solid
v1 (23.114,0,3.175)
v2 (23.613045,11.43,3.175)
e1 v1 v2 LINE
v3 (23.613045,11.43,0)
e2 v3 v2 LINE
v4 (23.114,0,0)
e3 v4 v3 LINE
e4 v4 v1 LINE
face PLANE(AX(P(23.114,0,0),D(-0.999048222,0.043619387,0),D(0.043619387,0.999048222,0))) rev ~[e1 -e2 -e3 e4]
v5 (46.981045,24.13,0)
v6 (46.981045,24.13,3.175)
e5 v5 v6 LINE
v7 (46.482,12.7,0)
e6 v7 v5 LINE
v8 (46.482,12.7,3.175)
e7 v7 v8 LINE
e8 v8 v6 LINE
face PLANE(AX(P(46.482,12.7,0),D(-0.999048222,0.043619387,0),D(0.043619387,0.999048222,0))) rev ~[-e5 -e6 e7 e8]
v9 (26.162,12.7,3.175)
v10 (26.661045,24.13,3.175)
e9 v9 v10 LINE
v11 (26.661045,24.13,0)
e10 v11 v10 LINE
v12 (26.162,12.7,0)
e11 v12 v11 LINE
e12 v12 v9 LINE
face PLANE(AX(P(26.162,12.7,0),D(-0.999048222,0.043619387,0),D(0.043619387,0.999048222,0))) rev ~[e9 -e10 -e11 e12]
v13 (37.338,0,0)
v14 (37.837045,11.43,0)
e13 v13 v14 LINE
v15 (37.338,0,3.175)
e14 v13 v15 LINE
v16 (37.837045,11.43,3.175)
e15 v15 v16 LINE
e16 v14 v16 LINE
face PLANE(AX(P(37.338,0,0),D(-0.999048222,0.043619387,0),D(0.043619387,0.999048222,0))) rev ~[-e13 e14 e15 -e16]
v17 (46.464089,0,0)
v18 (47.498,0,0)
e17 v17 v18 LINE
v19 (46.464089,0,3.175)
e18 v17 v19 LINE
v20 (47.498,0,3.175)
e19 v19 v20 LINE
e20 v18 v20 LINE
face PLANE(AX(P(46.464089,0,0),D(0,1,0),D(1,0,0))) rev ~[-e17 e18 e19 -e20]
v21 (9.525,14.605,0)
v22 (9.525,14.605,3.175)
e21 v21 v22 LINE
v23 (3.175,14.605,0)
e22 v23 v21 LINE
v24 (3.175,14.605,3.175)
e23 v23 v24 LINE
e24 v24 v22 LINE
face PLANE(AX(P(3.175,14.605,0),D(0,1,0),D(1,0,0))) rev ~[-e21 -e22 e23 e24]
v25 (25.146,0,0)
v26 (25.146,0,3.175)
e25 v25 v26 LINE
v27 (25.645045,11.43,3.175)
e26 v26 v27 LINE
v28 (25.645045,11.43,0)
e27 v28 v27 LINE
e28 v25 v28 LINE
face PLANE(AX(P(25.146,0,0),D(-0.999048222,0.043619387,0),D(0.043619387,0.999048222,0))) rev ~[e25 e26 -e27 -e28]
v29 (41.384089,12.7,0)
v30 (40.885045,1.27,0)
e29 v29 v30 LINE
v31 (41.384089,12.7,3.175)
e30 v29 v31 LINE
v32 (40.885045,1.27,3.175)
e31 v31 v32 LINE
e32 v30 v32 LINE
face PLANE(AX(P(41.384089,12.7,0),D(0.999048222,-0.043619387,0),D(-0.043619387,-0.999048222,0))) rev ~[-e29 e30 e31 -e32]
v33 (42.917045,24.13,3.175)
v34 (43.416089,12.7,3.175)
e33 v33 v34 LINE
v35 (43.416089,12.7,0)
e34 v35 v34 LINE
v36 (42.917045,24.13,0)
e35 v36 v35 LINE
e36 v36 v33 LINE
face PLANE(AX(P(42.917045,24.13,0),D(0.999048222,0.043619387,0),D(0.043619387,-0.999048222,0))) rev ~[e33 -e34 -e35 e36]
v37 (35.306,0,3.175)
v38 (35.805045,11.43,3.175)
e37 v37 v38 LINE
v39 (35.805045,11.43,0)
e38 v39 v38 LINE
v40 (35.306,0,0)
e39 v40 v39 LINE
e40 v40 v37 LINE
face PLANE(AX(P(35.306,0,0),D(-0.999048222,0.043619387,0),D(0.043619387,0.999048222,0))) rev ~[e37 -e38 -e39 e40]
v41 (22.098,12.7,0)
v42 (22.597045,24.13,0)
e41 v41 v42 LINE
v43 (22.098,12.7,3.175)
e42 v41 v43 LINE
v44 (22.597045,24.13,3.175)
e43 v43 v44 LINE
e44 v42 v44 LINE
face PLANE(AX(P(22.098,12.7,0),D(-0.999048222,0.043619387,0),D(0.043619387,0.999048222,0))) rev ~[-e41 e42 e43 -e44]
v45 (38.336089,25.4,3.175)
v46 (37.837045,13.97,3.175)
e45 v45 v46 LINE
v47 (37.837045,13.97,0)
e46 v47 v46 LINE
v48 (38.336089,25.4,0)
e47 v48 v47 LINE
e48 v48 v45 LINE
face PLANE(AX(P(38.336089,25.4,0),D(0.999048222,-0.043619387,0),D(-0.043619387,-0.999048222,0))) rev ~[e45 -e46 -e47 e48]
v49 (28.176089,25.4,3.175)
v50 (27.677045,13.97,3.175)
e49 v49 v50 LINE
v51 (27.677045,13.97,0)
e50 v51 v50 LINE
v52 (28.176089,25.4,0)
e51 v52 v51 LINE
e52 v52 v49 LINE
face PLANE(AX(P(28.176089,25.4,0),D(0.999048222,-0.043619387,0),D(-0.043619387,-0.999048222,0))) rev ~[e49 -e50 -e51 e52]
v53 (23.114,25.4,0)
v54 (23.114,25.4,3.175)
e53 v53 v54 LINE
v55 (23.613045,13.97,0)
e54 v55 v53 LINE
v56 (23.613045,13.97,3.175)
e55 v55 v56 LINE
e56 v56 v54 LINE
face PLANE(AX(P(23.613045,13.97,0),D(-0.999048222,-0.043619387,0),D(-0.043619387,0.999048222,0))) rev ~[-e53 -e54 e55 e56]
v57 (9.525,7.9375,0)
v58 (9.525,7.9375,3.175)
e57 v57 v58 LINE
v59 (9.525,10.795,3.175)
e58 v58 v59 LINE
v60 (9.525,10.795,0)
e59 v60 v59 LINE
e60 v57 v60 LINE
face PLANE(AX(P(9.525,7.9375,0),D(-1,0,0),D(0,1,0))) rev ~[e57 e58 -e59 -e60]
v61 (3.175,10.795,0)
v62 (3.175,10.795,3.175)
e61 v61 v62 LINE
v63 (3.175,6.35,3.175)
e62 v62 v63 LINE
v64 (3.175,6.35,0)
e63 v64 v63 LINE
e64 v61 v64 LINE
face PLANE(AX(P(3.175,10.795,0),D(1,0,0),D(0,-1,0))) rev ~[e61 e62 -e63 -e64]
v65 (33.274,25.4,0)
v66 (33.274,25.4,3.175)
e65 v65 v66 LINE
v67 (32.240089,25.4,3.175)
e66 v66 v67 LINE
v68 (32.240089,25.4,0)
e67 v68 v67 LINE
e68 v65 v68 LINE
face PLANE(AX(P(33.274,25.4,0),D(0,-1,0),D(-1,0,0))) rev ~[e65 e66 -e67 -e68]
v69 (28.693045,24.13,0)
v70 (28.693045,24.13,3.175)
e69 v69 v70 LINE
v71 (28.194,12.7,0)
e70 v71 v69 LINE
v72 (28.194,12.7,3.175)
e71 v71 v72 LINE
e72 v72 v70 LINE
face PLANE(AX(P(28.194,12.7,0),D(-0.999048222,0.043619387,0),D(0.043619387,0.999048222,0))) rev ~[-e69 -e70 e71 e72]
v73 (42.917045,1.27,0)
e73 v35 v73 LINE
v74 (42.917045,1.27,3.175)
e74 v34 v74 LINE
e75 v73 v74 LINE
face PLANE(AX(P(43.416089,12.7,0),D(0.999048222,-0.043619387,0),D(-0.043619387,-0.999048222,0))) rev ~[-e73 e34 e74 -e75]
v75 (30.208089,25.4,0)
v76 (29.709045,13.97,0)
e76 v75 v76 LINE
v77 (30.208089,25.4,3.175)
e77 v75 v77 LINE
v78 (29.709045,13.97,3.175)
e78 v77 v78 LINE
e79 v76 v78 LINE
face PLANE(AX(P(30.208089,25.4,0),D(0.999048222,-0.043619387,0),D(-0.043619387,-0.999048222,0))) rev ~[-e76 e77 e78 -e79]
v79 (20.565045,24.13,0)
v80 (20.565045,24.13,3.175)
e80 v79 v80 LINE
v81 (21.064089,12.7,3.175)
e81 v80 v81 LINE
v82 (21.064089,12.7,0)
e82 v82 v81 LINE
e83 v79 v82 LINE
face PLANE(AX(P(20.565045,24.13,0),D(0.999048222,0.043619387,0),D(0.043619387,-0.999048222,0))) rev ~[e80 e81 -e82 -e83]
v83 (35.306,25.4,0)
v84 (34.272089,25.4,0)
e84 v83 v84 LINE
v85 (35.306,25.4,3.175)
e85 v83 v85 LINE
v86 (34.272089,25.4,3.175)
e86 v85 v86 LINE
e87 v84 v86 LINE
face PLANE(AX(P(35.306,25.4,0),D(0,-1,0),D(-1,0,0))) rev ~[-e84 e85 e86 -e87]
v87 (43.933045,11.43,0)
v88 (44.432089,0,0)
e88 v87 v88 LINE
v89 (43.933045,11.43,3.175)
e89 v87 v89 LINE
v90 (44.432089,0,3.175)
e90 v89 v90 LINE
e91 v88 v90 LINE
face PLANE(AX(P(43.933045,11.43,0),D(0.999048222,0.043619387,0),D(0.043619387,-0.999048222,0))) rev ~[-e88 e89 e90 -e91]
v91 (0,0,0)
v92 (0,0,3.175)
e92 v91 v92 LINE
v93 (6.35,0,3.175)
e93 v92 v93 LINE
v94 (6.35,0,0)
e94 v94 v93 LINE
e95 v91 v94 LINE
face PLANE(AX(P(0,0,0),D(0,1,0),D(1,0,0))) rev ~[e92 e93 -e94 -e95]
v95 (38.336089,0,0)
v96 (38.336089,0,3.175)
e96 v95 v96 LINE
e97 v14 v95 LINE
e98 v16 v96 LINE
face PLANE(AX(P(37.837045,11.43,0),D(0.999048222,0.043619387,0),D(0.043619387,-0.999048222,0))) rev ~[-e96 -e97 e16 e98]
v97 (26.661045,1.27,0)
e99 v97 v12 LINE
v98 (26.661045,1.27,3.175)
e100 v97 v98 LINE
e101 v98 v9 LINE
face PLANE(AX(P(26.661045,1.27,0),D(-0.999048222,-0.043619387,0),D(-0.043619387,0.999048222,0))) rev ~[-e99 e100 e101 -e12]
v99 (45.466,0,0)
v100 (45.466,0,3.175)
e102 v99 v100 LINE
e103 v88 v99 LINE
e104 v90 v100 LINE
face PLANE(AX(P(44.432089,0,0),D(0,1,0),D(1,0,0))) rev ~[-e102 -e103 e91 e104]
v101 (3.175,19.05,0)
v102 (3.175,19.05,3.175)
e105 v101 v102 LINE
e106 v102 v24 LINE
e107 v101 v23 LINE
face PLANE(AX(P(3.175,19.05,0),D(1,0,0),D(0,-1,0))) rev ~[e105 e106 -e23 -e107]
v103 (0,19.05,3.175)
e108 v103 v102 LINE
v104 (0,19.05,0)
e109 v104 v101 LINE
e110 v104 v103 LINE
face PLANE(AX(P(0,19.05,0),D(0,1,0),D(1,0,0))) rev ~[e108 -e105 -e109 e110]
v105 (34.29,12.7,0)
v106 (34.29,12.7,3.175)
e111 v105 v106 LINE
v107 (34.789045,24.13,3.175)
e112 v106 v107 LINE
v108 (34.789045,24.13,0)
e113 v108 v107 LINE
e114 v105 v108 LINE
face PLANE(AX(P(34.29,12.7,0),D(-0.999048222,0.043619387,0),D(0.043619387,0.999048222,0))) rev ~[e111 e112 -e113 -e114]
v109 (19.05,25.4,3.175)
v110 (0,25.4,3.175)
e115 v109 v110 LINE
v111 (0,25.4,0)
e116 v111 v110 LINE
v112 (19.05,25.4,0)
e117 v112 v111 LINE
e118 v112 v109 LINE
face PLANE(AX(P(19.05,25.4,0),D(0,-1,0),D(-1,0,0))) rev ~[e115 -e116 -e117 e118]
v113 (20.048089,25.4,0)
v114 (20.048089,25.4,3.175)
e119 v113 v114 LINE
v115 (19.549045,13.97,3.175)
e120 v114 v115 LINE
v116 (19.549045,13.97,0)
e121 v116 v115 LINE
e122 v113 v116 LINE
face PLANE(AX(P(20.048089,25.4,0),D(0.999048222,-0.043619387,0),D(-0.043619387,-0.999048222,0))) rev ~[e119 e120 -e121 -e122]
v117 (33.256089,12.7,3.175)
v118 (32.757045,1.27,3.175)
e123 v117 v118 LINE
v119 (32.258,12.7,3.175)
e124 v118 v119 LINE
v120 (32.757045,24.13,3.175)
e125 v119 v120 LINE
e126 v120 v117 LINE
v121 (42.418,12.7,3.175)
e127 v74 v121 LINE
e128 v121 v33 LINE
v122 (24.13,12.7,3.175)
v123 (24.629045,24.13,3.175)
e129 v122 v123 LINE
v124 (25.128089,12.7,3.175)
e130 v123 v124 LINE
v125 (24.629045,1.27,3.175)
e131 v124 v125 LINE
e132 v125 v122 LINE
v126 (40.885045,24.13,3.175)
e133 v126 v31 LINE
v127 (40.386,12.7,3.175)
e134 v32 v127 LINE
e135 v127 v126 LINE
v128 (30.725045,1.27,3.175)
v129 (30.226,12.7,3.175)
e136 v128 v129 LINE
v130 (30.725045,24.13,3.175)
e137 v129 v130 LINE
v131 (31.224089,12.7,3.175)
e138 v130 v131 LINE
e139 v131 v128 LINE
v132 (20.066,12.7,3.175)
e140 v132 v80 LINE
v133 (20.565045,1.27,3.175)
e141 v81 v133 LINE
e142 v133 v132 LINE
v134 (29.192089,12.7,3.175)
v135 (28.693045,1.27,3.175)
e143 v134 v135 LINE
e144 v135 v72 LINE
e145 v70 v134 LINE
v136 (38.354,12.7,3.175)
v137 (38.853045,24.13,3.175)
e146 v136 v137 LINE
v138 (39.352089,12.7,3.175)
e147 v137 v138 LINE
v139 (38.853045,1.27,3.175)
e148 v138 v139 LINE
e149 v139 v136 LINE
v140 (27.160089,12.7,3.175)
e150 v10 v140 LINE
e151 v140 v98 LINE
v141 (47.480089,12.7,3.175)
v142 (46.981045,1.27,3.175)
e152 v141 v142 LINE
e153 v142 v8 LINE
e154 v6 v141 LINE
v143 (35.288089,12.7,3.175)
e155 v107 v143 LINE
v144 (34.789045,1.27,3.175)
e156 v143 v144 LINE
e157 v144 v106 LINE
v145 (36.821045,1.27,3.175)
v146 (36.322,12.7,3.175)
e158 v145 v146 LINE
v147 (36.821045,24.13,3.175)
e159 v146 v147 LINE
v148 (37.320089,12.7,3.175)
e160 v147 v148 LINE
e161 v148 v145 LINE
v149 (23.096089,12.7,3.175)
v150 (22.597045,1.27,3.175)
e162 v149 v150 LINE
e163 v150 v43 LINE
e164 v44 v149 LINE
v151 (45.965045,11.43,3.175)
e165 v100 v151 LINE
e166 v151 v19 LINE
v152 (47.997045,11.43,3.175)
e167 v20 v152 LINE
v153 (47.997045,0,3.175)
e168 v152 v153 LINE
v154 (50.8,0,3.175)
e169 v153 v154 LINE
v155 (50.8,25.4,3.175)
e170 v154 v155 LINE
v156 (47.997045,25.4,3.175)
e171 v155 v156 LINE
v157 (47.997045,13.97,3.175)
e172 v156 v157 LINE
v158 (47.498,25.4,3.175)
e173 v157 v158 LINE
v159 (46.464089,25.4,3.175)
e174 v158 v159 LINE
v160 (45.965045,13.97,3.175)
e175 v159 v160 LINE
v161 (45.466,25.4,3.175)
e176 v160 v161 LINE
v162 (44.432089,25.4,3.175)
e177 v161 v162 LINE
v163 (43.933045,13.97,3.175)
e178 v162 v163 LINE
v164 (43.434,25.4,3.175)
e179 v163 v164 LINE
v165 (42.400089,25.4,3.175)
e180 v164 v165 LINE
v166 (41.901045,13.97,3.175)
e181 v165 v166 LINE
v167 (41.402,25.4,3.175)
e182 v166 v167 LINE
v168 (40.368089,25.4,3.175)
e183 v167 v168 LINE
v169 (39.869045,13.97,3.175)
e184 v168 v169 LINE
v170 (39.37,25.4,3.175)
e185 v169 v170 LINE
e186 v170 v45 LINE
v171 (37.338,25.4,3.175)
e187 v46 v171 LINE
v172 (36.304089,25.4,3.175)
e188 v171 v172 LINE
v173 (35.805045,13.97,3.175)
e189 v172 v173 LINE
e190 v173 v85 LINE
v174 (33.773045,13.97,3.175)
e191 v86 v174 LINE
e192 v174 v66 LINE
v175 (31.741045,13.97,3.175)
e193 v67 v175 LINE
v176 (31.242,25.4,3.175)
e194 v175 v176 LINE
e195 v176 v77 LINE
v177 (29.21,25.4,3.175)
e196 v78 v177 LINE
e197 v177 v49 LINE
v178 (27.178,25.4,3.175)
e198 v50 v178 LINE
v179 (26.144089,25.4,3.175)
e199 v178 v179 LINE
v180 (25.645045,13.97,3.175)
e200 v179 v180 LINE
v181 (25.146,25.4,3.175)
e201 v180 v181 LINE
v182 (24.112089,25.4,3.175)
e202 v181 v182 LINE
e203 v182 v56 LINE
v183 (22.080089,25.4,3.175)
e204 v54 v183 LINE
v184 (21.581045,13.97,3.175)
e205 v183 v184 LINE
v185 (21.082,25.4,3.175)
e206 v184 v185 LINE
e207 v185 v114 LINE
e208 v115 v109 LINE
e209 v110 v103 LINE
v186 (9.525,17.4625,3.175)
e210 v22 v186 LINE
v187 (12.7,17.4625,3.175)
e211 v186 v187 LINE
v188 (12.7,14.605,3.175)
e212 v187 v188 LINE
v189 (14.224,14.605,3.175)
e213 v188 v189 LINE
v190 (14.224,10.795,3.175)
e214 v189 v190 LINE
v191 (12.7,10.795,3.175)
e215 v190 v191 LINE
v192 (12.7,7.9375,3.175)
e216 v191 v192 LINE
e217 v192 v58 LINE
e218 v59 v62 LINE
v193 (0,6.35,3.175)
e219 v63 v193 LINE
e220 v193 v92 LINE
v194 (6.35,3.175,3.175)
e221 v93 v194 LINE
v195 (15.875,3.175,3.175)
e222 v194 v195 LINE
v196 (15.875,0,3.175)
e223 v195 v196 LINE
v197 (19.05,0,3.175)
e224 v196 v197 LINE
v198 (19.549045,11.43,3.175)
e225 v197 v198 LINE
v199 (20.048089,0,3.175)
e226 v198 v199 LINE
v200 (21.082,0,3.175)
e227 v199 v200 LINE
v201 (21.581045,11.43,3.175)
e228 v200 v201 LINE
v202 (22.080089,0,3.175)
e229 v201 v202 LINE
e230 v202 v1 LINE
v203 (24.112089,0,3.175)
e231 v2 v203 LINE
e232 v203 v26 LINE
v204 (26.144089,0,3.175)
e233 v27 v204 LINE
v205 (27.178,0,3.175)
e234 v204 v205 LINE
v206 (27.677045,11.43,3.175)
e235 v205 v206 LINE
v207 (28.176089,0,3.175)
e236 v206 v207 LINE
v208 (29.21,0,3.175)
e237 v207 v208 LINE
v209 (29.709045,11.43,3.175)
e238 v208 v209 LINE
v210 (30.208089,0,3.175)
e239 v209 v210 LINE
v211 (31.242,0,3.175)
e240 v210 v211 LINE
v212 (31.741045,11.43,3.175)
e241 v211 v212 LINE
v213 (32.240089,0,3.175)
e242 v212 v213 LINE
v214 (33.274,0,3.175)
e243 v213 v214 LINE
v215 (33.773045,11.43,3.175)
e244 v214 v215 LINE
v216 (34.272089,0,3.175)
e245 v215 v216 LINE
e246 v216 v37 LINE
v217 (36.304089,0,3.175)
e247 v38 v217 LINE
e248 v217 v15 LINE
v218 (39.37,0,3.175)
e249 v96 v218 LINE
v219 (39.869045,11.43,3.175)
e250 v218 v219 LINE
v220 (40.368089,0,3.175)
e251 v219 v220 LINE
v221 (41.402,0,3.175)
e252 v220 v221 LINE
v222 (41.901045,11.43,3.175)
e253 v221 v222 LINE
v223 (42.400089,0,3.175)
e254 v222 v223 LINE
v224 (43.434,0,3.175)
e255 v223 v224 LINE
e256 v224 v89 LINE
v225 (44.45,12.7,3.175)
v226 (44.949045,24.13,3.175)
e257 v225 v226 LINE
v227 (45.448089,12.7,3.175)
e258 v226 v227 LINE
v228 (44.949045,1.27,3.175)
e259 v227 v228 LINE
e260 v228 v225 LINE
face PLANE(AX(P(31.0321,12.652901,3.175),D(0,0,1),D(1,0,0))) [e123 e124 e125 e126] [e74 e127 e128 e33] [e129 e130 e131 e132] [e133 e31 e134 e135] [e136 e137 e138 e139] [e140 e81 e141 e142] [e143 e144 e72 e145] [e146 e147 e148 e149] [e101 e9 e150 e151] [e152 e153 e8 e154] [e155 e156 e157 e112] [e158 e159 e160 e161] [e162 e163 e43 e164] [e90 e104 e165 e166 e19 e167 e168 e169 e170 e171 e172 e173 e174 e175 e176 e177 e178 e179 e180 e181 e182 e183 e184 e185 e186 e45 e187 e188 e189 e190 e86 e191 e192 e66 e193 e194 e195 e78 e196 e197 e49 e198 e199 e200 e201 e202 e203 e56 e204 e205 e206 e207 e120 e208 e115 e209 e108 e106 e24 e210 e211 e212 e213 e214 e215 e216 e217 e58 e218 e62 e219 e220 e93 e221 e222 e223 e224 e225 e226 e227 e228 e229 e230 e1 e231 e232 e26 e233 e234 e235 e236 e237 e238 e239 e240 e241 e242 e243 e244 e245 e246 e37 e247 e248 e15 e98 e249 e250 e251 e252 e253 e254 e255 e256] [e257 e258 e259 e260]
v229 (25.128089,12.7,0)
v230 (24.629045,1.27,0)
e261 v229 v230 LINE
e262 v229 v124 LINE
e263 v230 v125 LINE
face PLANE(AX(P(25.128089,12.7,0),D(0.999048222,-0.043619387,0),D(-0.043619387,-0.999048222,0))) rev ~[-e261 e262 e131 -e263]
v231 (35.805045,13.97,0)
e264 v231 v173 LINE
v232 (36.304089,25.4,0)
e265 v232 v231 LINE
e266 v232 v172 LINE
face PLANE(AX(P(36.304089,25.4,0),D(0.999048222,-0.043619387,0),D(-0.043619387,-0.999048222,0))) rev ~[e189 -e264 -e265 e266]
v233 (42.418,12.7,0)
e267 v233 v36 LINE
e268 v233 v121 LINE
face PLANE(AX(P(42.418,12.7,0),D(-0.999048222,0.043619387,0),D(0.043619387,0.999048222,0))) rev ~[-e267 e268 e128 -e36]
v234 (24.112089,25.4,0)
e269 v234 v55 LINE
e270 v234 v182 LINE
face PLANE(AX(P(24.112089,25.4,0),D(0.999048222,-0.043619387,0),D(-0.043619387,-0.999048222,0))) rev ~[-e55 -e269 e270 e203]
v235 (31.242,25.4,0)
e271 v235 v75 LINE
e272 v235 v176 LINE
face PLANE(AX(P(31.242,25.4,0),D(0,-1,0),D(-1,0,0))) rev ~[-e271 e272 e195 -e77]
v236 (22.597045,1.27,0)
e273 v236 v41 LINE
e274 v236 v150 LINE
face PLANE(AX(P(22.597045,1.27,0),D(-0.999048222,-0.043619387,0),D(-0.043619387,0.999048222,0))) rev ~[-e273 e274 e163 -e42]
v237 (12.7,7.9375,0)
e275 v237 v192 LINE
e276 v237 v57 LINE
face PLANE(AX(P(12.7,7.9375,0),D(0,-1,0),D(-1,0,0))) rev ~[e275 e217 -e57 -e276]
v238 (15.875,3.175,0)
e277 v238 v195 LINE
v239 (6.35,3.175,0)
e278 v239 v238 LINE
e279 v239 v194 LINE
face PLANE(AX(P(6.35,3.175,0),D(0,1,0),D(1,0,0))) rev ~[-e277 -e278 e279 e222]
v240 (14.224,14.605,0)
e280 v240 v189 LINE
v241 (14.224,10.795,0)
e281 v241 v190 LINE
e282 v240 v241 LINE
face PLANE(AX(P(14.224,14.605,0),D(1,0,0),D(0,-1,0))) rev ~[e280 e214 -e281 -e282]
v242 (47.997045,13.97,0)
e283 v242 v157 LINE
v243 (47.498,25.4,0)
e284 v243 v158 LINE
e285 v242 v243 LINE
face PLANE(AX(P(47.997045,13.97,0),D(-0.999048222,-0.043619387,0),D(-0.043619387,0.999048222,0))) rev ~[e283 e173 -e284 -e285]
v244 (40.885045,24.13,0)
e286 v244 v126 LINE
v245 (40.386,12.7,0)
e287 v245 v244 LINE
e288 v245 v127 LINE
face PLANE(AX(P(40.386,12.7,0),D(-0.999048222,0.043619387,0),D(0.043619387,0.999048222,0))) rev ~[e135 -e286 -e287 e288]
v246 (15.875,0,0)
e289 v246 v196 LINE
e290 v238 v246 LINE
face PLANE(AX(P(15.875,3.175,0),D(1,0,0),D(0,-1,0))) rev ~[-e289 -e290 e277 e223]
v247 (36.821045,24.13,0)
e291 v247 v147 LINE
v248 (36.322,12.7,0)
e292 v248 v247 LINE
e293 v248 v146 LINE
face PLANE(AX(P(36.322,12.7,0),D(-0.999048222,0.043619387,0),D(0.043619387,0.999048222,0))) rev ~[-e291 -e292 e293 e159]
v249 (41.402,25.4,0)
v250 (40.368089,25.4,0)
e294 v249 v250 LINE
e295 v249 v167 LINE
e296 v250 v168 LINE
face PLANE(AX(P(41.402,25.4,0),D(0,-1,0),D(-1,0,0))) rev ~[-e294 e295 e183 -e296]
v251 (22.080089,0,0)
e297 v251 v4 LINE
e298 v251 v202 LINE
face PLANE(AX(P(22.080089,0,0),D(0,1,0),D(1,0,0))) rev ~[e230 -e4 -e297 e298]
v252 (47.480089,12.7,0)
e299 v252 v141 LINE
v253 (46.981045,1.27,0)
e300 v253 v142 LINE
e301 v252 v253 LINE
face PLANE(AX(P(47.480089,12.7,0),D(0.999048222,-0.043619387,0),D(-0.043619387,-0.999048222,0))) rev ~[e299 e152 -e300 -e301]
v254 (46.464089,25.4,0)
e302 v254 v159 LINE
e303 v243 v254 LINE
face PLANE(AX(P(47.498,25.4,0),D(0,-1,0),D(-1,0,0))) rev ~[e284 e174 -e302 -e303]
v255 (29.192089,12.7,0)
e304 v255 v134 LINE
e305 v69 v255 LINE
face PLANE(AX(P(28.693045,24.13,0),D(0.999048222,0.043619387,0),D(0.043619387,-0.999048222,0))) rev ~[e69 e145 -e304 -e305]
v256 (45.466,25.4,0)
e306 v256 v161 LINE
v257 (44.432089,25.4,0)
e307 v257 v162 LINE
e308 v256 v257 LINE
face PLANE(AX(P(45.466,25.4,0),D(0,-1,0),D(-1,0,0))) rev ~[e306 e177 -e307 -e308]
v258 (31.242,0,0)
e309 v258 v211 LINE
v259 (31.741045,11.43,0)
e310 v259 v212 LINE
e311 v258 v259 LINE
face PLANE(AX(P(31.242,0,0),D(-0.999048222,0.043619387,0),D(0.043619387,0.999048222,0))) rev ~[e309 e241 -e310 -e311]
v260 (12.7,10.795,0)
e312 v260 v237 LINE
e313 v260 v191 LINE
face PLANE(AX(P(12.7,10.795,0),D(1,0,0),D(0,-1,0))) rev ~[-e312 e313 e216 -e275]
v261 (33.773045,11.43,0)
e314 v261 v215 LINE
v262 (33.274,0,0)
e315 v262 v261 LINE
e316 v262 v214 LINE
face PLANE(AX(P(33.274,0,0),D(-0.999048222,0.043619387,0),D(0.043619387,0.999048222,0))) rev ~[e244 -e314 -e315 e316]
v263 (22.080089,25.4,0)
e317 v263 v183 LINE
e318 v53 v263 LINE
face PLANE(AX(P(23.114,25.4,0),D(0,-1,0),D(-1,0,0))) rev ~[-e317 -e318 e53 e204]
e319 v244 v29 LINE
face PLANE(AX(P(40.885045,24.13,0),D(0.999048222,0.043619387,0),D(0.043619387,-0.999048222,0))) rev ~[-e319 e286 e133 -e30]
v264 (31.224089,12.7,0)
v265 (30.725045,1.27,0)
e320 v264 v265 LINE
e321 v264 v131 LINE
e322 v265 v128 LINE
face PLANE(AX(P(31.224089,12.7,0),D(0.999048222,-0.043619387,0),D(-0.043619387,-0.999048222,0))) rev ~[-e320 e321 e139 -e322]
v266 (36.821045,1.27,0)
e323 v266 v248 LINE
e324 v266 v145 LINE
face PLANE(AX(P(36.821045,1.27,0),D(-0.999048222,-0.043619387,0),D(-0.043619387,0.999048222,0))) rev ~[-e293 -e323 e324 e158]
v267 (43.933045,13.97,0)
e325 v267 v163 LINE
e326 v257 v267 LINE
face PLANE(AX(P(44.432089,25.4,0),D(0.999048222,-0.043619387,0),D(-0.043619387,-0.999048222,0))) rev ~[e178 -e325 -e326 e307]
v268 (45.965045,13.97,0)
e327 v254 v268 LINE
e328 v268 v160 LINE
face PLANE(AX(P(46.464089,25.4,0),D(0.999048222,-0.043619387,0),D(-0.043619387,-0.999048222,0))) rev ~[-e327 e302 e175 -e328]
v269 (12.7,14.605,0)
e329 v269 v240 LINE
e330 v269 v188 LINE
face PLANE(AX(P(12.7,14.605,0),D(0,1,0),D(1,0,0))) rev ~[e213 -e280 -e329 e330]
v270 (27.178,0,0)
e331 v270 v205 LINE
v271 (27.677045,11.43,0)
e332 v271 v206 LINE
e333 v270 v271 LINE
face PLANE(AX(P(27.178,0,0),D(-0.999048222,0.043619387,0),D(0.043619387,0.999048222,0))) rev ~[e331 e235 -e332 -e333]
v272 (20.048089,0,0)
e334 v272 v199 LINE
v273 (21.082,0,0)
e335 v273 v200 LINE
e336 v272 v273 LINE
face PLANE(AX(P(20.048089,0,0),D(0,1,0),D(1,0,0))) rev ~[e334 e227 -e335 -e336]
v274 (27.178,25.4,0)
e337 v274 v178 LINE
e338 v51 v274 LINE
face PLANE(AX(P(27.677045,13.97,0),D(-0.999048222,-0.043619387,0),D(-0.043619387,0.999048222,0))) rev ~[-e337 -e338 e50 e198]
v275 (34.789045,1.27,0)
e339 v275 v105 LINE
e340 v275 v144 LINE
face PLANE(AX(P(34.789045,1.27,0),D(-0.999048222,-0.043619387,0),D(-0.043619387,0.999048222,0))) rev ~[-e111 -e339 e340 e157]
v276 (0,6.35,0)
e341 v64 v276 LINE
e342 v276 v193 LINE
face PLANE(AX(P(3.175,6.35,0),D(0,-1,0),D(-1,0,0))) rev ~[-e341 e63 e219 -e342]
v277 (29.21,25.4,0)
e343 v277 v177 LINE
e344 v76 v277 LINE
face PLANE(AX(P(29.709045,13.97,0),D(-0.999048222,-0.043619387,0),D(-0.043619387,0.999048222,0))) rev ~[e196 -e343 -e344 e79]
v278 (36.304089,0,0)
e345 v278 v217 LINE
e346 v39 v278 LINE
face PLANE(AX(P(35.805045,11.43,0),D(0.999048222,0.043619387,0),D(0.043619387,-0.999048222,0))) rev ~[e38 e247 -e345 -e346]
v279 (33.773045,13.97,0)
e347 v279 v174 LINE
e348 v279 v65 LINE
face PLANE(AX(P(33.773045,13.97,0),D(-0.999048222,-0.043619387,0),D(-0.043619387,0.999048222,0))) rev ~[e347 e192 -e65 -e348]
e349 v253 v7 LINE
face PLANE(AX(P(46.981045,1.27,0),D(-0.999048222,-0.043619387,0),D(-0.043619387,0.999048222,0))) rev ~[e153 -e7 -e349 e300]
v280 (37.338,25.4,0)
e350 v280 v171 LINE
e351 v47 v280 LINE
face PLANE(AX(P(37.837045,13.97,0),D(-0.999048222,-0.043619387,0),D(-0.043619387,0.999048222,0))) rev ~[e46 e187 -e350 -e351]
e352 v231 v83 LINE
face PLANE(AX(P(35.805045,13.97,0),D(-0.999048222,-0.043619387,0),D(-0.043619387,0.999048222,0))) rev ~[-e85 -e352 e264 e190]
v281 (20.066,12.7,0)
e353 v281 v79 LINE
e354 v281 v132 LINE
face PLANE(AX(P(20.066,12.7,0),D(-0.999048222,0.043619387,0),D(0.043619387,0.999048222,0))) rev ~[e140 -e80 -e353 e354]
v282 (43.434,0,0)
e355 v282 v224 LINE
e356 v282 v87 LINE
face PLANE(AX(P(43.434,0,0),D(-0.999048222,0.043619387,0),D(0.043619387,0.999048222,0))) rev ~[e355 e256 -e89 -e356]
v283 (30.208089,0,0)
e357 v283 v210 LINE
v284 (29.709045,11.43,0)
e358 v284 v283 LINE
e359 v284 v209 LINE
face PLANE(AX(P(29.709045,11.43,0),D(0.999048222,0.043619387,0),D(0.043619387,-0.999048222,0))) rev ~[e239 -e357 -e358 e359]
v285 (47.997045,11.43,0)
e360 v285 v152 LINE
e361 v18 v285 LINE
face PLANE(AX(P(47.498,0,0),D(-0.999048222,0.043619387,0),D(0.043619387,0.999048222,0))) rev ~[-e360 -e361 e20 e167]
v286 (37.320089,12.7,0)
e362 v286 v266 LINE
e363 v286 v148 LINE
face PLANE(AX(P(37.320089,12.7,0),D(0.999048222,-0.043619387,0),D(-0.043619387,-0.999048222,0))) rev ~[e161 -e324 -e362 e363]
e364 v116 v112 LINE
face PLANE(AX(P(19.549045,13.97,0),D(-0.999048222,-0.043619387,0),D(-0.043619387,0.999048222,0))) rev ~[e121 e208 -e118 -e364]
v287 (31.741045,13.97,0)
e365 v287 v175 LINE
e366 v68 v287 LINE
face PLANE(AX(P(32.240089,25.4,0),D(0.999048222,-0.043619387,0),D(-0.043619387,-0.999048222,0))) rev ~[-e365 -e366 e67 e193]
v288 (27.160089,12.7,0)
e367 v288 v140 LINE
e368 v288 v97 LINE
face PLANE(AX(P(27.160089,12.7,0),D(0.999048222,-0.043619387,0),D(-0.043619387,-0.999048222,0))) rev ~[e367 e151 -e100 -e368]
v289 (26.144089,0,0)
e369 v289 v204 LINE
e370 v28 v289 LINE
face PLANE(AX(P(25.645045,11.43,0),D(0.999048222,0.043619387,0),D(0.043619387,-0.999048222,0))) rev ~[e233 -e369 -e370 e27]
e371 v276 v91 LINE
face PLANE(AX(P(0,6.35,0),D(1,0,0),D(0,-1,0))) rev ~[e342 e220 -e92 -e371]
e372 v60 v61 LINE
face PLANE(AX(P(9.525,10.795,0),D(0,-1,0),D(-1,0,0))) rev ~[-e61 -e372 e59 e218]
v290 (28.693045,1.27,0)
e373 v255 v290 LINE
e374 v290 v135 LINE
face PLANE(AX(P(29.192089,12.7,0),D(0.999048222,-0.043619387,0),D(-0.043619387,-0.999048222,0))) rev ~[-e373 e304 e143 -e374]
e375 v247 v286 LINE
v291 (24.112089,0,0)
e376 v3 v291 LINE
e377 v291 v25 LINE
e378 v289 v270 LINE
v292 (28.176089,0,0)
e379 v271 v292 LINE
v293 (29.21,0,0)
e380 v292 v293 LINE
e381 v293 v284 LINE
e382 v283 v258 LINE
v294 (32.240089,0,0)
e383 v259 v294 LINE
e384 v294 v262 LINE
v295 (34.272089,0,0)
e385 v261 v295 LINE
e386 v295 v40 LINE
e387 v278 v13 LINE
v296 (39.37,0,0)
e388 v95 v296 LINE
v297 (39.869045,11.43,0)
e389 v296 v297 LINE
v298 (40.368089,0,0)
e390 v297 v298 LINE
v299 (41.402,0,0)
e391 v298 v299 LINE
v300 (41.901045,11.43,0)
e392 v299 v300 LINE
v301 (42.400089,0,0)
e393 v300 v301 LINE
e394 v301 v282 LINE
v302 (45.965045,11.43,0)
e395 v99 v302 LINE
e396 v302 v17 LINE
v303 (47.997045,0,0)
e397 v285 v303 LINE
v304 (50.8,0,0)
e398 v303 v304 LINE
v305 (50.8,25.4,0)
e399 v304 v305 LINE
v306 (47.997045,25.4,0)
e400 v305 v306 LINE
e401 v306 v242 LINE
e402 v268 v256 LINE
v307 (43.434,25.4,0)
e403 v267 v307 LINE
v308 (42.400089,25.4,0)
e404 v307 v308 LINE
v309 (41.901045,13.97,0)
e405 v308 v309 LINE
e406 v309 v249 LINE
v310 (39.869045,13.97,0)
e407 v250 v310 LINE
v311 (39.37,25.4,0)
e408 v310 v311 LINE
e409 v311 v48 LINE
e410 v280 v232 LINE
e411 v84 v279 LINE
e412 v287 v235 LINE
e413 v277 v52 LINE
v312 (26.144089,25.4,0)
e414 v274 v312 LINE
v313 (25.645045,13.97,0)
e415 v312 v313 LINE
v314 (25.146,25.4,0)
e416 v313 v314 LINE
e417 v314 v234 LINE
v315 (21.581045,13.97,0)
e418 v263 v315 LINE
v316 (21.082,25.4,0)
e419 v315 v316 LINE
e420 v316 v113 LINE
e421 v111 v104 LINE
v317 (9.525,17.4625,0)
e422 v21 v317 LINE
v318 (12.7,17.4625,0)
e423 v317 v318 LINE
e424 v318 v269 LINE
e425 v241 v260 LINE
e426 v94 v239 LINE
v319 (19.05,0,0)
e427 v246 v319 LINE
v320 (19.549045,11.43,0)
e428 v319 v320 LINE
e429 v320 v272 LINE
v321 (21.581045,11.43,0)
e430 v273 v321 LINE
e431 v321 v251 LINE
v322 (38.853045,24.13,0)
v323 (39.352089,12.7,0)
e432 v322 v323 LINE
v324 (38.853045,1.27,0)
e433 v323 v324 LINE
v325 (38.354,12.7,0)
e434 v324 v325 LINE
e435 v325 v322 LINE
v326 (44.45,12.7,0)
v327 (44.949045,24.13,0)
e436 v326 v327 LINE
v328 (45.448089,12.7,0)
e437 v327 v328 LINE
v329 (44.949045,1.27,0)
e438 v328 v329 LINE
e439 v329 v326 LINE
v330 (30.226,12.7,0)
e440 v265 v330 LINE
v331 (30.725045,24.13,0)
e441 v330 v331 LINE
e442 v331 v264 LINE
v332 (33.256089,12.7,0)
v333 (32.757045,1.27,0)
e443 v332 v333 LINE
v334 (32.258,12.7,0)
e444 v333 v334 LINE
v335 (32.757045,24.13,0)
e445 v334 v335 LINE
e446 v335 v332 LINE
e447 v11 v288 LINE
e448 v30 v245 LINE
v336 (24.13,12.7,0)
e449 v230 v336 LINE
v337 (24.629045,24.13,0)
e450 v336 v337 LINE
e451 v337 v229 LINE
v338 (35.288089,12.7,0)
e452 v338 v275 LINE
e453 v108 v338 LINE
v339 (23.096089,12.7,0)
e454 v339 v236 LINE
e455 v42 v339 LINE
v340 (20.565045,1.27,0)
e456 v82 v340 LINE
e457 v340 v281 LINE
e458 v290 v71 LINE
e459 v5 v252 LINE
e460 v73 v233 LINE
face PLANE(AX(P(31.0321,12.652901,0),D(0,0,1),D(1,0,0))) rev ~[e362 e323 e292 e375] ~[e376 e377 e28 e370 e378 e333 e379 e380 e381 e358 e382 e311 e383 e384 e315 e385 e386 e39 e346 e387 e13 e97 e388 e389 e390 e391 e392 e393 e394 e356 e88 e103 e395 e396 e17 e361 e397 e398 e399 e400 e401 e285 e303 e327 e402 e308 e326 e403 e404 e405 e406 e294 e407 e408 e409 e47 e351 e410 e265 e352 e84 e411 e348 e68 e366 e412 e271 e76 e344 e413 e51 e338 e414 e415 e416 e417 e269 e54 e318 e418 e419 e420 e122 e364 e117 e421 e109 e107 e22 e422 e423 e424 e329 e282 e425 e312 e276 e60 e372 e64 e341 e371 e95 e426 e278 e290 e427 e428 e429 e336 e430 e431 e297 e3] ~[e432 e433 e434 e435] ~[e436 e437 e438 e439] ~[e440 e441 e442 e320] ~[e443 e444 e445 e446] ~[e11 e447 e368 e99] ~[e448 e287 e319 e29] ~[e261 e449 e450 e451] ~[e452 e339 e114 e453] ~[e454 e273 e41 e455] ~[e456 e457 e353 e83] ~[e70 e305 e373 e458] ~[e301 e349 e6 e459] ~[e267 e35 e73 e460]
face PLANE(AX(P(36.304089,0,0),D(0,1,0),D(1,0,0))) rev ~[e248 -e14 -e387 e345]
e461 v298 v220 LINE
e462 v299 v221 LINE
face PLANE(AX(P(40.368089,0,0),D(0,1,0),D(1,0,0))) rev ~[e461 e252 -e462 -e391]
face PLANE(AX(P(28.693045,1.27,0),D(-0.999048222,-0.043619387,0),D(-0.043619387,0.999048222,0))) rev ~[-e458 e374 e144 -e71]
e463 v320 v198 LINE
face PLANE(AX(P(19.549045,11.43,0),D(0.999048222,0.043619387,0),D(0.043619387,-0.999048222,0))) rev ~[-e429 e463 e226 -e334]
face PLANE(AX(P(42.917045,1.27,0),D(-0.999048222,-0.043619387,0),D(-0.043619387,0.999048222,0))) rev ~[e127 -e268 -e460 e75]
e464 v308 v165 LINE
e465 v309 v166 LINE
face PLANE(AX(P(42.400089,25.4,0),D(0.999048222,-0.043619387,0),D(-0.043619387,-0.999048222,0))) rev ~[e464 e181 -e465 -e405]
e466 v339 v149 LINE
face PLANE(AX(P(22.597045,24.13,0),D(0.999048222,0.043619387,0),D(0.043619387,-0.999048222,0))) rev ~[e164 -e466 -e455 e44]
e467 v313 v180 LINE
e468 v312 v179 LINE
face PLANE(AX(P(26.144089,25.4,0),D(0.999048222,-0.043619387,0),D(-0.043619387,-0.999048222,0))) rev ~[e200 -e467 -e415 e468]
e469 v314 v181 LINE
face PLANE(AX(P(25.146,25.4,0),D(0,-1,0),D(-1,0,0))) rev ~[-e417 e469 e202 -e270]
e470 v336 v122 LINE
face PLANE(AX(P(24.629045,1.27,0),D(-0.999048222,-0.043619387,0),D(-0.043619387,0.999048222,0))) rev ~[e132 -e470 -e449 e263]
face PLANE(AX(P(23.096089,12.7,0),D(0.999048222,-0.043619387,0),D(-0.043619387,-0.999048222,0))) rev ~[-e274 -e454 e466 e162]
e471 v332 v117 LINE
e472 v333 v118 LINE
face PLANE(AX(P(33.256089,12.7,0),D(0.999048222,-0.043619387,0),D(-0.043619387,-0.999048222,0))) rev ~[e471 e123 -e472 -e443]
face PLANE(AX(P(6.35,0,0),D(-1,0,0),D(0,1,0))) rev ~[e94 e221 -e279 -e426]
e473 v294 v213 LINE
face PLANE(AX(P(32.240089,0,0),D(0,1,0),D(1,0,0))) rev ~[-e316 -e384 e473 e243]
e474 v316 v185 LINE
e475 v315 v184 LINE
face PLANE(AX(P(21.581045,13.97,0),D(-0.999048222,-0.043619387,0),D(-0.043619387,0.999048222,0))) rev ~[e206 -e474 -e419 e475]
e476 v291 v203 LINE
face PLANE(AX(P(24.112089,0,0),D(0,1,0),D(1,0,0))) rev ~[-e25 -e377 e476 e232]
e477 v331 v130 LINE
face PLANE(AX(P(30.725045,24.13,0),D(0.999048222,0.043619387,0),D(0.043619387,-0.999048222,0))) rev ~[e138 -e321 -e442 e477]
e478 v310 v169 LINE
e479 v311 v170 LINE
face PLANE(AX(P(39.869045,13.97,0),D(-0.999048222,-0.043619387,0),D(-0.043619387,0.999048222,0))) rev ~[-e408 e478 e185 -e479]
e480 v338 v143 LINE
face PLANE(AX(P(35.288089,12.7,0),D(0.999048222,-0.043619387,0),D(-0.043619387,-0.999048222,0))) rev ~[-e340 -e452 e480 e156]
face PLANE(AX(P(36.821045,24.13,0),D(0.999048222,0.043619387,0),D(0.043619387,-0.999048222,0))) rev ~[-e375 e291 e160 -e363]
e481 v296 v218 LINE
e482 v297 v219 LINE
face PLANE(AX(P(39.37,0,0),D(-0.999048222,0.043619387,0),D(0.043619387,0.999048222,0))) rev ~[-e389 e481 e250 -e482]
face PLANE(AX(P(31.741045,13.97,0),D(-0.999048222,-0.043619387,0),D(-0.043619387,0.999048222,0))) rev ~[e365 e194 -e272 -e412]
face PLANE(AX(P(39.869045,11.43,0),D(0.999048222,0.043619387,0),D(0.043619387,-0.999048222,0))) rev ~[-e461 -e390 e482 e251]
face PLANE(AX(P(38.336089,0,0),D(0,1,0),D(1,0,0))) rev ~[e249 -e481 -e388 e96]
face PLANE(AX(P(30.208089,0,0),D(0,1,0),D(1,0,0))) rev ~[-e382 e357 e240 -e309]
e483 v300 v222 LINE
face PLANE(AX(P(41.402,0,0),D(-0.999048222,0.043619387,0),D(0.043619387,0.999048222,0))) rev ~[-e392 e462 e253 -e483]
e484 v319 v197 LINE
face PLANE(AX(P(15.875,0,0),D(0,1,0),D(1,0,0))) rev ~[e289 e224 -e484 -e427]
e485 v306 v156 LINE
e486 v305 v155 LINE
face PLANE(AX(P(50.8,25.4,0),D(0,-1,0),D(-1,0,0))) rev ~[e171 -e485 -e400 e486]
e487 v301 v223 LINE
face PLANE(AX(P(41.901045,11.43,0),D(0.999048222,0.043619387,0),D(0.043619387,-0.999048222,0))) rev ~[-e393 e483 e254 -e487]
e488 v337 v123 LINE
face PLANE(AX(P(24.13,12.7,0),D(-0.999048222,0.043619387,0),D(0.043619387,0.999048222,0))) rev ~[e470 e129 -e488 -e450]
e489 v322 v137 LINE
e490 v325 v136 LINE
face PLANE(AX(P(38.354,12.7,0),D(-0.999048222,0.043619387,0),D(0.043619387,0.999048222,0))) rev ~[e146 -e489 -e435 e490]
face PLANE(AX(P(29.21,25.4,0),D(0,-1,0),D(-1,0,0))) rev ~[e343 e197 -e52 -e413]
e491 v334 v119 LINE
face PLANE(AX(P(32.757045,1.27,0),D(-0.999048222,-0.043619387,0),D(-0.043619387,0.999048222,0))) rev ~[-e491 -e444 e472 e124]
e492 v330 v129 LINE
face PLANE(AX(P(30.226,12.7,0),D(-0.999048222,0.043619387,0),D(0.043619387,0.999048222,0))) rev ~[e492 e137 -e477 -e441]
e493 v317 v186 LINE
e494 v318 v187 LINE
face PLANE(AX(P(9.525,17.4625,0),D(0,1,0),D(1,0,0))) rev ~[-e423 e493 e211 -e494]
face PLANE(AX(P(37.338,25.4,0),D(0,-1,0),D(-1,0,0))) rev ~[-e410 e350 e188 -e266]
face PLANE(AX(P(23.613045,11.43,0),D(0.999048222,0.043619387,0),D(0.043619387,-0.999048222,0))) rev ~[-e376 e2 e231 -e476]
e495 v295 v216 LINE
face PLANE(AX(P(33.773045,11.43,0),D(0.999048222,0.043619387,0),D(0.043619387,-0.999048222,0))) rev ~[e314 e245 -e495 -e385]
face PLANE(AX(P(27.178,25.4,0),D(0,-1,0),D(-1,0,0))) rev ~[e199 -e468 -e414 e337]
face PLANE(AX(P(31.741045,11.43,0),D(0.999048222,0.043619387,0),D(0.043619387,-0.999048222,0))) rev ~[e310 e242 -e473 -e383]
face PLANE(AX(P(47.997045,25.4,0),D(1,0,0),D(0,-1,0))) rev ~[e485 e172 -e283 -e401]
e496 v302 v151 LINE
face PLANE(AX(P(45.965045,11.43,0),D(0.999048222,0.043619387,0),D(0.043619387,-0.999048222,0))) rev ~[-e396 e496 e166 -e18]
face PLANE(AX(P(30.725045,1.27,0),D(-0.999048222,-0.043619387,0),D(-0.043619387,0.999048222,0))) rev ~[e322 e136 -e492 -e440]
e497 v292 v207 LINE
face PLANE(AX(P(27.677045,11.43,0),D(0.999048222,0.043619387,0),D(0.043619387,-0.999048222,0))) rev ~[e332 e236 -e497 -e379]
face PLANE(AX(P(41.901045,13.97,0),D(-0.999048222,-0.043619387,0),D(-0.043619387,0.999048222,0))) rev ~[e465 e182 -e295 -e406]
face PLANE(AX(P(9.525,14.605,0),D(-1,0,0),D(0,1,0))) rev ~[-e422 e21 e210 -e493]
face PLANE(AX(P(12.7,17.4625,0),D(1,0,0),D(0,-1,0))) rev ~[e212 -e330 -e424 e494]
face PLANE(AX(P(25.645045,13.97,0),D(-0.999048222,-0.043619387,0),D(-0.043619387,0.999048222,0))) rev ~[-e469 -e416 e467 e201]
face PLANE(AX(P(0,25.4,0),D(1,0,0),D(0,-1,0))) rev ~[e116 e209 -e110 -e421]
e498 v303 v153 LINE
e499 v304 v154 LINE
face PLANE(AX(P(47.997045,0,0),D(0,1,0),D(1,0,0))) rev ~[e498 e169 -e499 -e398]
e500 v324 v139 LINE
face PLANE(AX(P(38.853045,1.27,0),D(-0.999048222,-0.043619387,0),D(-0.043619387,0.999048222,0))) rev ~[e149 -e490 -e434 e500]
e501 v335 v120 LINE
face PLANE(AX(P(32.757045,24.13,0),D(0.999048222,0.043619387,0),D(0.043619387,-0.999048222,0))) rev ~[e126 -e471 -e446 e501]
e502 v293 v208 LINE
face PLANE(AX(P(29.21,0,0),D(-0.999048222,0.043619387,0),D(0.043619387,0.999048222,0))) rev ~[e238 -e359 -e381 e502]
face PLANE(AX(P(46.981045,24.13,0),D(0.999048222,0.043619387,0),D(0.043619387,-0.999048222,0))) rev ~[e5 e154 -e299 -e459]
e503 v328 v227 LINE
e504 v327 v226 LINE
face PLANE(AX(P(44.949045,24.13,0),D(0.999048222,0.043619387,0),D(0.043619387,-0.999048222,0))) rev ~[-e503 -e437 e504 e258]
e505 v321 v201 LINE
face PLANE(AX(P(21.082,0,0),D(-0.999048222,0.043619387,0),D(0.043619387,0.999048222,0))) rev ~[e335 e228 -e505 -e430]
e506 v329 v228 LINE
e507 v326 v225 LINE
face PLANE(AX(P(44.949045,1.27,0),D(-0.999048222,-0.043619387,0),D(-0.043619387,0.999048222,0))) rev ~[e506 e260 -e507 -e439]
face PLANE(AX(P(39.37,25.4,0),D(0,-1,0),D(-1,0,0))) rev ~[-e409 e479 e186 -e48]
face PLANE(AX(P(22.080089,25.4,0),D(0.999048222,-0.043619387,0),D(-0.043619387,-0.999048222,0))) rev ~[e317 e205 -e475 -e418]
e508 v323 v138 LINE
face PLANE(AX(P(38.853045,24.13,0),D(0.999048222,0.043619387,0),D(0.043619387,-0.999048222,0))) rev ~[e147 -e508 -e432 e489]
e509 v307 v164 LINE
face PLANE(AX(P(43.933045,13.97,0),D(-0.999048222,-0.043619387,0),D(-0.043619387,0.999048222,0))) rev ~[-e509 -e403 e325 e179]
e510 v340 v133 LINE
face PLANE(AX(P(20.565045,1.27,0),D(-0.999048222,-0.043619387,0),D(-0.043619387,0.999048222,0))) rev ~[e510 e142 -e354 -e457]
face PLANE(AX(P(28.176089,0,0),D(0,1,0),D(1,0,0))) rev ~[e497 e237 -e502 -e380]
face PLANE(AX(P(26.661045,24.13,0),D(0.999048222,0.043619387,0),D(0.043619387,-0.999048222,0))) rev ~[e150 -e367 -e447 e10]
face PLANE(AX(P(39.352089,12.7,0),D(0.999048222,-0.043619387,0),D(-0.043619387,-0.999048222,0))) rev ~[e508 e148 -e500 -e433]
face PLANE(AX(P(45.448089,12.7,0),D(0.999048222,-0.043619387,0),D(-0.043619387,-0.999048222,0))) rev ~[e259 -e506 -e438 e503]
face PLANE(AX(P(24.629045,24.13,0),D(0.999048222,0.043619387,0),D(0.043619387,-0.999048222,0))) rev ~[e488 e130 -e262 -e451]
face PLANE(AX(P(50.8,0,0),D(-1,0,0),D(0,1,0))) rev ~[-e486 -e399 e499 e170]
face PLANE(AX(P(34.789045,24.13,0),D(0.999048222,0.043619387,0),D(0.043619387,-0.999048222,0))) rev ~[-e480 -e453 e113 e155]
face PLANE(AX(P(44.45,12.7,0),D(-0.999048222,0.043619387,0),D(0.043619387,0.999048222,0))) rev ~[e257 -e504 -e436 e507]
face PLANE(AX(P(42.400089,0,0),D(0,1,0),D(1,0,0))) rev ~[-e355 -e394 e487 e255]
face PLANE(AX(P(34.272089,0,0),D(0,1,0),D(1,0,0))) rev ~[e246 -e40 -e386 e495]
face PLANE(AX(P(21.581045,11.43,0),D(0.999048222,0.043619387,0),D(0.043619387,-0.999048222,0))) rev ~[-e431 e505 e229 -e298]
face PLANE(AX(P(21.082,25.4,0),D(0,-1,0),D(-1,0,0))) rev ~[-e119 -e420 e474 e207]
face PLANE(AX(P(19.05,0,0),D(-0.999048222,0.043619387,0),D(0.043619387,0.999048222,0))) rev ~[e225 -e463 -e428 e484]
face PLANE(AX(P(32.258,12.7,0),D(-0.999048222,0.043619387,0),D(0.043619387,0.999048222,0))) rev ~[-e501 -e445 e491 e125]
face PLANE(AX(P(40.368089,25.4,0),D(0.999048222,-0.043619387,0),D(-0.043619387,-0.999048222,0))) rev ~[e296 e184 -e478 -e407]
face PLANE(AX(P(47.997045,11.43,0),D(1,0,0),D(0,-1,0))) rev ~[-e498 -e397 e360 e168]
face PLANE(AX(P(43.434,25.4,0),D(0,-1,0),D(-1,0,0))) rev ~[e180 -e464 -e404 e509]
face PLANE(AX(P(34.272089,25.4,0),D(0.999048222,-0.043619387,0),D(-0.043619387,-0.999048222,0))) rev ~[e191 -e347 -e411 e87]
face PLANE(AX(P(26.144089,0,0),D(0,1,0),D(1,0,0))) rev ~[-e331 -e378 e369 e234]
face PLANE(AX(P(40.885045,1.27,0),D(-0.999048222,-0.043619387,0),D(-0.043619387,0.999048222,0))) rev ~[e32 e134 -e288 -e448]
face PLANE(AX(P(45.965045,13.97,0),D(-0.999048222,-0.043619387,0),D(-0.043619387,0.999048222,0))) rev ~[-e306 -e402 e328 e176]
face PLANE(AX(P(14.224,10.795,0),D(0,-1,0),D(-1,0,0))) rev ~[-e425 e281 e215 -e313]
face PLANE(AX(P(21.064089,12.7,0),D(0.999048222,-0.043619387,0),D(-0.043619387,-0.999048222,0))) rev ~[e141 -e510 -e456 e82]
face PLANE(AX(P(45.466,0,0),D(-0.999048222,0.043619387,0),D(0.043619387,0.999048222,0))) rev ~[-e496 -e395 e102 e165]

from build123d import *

# Parameters (mm, degrees)
BOSS_EXTRUDE2_DEPTH = 3.175


with BuildPart() as part:
    # Sketch1 → Boss-Extrude2 (new body)
    with BuildSketch(Plane.XY):
        Polygon((0, 6.35), (0, 0), (6.35, 0), (6.35, 3.175), (15.875, 3.175), (15.875, 0), (19.05, 0), (19.549044577, 11.43), (20.048089155, 0), (21.082, 0), (21.581044577, 11.43), (22.080089155, 0), (23.114, 0), (23.613044577, 11.43), (24.112089155, 0), (25.146, 0), (25.645044577, 11.43), (26.144089155, 0), (27.178, 0), (27.677044577, 11.43), (28.176089155, 0), (29.21, 0), (29.709044577, 11.43), (30.208089155, 0), (31.242, 0), (31.741044577, 11.43), (32.240089155, 0), (33.274, 0), (33.773044577, 11.43), (34.272089155, 0), (35.306, 0), (35.805044577, 11.43), (36.304089155, 0), (37.338, 0), (37.837044577, 11.43), (38.336089155, 0), (39.37, 0), (39.869044577, 11.43), (40.368089155, 0), (41.402, 0), (41.901044577, 11.43), (42.400089155, 0), (43.434, 0), (43.933044577, 11.43), (44.432089155, 0), (45.466, 0), (45.965044577, 11.43), (46.464089155, 0), (47.498, 0), (47.997044577, 11.43), (47.997044577, 0), (50.8, 0), (50.8, 25.4), (47.997044577, 25.4), (47.997044577, 13.97), (47.498, 25.4), (46.464089155, 25.4), (45.965044577, 13.97), (45.466, 25.4), (44.432089155, 25.4), (43.933044577, 13.97), (43.434, 25.4), (42.400089155, 25.4), (41.901044577, 13.97), (41.402, 25.4), (40.368089155, 25.4), (39.869044577, 13.97), (39.37, 25.4), (38.336089155, 25.4), (37.837044577, 13.97), (37.338, 25.4), (36.304089155, 25.4), (35.805044577, 13.97), (35.306, 25.4), (34.272089155, 25.4), (33.773044577, 13.97), (33.274, 25.4), (32.240089155, 25.4), (31.741044577, 13.97), (31.242, 25.4), (30.208089155, 25.4), (29.709044577, 13.97), (29.21, 25.4), (28.176089155, 25.4), (27.677044577, 13.97), (27.178, 25.4), (26.144089155, 25.4), (25.645044577, 13.97), (25.146, 25.4), (24.112089155, 25.4), (23.613044577, 13.97), (23.114, 25.4), (22.080089155, 25.4), (21.581044577, 13.97), (21.082, 25.4), (20.048089155, 25.4), (19.549044577, 13.97), (19.05, 25.4), (0, 25.4), (0, 19.05), (3.175, 19.05), (3.175, 14.605), (9.525, 14.605), (9.525, 17.4625), (12.7, 17.4625), (12.7, 14.605), (14.224, 14.605), (14.224, 10.795), (12.7, 10.795), (12.7, 7.9375), (9.525, 7.9375), (9.525, 10.795), (3.175, 10.795), (3.175, 6.35), align=None)
        Polygon((20.066, 12.7), (20.565044577, 24.13), (21.064089155, 12.7), (20.565044577, 1.27), align=None, mode=Mode.SUBTRACT)
        Polygon((22.098, 12.7), (22.597044577, 24.13), (23.096089155, 12.7), (22.597044577, 1.27), align=None, mode=Mode.SUBTRACT)
        Polygon((24.13, 12.7), (24.629044577, 24.13), (25.128089155, 12.7), (24.629044577, 1.27), align=None, mode=Mode.SUBTRACT)
        Polygon((26.162, 12.7), (26.661044577, 24.13), (27.160089155, 12.7), (26.661044577, 1.27), align=None, mode=Mode.SUBTRACT)
        Polygon((28.194, 12.7), (28.693044577, 24.13), (29.192089155, 12.7), (28.693044577, 1.27), align=None, mode=Mode.SUBTRACT)
        Polygon((30.226, 12.7), (30.725044577, 24.13), (31.224089155, 12.7), (30.725044577, 1.27), align=None, mode=Mode.SUBTRACT)
        Polygon((32.258, 12.7), (32.757044577, 24.13), (33.256089155, 12.7), (32.757044577, 1.27), align=None, mode=Mode.SUBTRACT)
        Polygon((34.29, 12.7), (34.789044577, 24.13), (35.288089155, 12.7), (34.789044577, 1.27), align=None, mode=Mode.SUBTRACT)
        Polygon((36.322, 12.7), (36.821044577, 24.13), (37.320089155, 12.7), (36.821044577, 1.27), align=None, mode=Mode.SUBTRACT)
        Polygon((38.354, 12.7), (38.853044577, 24.13), (39.352089155, 12.7), (38.853044577, 1.27), align=None, mode=Mode.SUBTRACT)
        Polygon((40.386, 12.7), (40.885044577, 24.13), (41.384089155, 12.7), (40.885044577, 1.27), align=None, mode=Mode.SUBTRACT)
        Polygon((42.418, 12.7), (42.917044577, 24.13), (43.416089155, 12.7), (42.917044577, 1.27), align=None, mode=Mode.SUBTRACT)
        Polygon((44.45, 12.7), (44.949044577, 24.13), (45.448089155, 12.7), (44.949044577, 1.27), align=None, mode=Mode.SUBTRACT)
        Polygon((46.482, 12.7), (46.981044577, 24.13), (47.480089155, 12.7), (46.981044577, 1.27), align=None, mode=Mode.SUBTRACT)
    extrude(amount=BOSS_EXTRUDE2_DEPTH)


solid = part.part
